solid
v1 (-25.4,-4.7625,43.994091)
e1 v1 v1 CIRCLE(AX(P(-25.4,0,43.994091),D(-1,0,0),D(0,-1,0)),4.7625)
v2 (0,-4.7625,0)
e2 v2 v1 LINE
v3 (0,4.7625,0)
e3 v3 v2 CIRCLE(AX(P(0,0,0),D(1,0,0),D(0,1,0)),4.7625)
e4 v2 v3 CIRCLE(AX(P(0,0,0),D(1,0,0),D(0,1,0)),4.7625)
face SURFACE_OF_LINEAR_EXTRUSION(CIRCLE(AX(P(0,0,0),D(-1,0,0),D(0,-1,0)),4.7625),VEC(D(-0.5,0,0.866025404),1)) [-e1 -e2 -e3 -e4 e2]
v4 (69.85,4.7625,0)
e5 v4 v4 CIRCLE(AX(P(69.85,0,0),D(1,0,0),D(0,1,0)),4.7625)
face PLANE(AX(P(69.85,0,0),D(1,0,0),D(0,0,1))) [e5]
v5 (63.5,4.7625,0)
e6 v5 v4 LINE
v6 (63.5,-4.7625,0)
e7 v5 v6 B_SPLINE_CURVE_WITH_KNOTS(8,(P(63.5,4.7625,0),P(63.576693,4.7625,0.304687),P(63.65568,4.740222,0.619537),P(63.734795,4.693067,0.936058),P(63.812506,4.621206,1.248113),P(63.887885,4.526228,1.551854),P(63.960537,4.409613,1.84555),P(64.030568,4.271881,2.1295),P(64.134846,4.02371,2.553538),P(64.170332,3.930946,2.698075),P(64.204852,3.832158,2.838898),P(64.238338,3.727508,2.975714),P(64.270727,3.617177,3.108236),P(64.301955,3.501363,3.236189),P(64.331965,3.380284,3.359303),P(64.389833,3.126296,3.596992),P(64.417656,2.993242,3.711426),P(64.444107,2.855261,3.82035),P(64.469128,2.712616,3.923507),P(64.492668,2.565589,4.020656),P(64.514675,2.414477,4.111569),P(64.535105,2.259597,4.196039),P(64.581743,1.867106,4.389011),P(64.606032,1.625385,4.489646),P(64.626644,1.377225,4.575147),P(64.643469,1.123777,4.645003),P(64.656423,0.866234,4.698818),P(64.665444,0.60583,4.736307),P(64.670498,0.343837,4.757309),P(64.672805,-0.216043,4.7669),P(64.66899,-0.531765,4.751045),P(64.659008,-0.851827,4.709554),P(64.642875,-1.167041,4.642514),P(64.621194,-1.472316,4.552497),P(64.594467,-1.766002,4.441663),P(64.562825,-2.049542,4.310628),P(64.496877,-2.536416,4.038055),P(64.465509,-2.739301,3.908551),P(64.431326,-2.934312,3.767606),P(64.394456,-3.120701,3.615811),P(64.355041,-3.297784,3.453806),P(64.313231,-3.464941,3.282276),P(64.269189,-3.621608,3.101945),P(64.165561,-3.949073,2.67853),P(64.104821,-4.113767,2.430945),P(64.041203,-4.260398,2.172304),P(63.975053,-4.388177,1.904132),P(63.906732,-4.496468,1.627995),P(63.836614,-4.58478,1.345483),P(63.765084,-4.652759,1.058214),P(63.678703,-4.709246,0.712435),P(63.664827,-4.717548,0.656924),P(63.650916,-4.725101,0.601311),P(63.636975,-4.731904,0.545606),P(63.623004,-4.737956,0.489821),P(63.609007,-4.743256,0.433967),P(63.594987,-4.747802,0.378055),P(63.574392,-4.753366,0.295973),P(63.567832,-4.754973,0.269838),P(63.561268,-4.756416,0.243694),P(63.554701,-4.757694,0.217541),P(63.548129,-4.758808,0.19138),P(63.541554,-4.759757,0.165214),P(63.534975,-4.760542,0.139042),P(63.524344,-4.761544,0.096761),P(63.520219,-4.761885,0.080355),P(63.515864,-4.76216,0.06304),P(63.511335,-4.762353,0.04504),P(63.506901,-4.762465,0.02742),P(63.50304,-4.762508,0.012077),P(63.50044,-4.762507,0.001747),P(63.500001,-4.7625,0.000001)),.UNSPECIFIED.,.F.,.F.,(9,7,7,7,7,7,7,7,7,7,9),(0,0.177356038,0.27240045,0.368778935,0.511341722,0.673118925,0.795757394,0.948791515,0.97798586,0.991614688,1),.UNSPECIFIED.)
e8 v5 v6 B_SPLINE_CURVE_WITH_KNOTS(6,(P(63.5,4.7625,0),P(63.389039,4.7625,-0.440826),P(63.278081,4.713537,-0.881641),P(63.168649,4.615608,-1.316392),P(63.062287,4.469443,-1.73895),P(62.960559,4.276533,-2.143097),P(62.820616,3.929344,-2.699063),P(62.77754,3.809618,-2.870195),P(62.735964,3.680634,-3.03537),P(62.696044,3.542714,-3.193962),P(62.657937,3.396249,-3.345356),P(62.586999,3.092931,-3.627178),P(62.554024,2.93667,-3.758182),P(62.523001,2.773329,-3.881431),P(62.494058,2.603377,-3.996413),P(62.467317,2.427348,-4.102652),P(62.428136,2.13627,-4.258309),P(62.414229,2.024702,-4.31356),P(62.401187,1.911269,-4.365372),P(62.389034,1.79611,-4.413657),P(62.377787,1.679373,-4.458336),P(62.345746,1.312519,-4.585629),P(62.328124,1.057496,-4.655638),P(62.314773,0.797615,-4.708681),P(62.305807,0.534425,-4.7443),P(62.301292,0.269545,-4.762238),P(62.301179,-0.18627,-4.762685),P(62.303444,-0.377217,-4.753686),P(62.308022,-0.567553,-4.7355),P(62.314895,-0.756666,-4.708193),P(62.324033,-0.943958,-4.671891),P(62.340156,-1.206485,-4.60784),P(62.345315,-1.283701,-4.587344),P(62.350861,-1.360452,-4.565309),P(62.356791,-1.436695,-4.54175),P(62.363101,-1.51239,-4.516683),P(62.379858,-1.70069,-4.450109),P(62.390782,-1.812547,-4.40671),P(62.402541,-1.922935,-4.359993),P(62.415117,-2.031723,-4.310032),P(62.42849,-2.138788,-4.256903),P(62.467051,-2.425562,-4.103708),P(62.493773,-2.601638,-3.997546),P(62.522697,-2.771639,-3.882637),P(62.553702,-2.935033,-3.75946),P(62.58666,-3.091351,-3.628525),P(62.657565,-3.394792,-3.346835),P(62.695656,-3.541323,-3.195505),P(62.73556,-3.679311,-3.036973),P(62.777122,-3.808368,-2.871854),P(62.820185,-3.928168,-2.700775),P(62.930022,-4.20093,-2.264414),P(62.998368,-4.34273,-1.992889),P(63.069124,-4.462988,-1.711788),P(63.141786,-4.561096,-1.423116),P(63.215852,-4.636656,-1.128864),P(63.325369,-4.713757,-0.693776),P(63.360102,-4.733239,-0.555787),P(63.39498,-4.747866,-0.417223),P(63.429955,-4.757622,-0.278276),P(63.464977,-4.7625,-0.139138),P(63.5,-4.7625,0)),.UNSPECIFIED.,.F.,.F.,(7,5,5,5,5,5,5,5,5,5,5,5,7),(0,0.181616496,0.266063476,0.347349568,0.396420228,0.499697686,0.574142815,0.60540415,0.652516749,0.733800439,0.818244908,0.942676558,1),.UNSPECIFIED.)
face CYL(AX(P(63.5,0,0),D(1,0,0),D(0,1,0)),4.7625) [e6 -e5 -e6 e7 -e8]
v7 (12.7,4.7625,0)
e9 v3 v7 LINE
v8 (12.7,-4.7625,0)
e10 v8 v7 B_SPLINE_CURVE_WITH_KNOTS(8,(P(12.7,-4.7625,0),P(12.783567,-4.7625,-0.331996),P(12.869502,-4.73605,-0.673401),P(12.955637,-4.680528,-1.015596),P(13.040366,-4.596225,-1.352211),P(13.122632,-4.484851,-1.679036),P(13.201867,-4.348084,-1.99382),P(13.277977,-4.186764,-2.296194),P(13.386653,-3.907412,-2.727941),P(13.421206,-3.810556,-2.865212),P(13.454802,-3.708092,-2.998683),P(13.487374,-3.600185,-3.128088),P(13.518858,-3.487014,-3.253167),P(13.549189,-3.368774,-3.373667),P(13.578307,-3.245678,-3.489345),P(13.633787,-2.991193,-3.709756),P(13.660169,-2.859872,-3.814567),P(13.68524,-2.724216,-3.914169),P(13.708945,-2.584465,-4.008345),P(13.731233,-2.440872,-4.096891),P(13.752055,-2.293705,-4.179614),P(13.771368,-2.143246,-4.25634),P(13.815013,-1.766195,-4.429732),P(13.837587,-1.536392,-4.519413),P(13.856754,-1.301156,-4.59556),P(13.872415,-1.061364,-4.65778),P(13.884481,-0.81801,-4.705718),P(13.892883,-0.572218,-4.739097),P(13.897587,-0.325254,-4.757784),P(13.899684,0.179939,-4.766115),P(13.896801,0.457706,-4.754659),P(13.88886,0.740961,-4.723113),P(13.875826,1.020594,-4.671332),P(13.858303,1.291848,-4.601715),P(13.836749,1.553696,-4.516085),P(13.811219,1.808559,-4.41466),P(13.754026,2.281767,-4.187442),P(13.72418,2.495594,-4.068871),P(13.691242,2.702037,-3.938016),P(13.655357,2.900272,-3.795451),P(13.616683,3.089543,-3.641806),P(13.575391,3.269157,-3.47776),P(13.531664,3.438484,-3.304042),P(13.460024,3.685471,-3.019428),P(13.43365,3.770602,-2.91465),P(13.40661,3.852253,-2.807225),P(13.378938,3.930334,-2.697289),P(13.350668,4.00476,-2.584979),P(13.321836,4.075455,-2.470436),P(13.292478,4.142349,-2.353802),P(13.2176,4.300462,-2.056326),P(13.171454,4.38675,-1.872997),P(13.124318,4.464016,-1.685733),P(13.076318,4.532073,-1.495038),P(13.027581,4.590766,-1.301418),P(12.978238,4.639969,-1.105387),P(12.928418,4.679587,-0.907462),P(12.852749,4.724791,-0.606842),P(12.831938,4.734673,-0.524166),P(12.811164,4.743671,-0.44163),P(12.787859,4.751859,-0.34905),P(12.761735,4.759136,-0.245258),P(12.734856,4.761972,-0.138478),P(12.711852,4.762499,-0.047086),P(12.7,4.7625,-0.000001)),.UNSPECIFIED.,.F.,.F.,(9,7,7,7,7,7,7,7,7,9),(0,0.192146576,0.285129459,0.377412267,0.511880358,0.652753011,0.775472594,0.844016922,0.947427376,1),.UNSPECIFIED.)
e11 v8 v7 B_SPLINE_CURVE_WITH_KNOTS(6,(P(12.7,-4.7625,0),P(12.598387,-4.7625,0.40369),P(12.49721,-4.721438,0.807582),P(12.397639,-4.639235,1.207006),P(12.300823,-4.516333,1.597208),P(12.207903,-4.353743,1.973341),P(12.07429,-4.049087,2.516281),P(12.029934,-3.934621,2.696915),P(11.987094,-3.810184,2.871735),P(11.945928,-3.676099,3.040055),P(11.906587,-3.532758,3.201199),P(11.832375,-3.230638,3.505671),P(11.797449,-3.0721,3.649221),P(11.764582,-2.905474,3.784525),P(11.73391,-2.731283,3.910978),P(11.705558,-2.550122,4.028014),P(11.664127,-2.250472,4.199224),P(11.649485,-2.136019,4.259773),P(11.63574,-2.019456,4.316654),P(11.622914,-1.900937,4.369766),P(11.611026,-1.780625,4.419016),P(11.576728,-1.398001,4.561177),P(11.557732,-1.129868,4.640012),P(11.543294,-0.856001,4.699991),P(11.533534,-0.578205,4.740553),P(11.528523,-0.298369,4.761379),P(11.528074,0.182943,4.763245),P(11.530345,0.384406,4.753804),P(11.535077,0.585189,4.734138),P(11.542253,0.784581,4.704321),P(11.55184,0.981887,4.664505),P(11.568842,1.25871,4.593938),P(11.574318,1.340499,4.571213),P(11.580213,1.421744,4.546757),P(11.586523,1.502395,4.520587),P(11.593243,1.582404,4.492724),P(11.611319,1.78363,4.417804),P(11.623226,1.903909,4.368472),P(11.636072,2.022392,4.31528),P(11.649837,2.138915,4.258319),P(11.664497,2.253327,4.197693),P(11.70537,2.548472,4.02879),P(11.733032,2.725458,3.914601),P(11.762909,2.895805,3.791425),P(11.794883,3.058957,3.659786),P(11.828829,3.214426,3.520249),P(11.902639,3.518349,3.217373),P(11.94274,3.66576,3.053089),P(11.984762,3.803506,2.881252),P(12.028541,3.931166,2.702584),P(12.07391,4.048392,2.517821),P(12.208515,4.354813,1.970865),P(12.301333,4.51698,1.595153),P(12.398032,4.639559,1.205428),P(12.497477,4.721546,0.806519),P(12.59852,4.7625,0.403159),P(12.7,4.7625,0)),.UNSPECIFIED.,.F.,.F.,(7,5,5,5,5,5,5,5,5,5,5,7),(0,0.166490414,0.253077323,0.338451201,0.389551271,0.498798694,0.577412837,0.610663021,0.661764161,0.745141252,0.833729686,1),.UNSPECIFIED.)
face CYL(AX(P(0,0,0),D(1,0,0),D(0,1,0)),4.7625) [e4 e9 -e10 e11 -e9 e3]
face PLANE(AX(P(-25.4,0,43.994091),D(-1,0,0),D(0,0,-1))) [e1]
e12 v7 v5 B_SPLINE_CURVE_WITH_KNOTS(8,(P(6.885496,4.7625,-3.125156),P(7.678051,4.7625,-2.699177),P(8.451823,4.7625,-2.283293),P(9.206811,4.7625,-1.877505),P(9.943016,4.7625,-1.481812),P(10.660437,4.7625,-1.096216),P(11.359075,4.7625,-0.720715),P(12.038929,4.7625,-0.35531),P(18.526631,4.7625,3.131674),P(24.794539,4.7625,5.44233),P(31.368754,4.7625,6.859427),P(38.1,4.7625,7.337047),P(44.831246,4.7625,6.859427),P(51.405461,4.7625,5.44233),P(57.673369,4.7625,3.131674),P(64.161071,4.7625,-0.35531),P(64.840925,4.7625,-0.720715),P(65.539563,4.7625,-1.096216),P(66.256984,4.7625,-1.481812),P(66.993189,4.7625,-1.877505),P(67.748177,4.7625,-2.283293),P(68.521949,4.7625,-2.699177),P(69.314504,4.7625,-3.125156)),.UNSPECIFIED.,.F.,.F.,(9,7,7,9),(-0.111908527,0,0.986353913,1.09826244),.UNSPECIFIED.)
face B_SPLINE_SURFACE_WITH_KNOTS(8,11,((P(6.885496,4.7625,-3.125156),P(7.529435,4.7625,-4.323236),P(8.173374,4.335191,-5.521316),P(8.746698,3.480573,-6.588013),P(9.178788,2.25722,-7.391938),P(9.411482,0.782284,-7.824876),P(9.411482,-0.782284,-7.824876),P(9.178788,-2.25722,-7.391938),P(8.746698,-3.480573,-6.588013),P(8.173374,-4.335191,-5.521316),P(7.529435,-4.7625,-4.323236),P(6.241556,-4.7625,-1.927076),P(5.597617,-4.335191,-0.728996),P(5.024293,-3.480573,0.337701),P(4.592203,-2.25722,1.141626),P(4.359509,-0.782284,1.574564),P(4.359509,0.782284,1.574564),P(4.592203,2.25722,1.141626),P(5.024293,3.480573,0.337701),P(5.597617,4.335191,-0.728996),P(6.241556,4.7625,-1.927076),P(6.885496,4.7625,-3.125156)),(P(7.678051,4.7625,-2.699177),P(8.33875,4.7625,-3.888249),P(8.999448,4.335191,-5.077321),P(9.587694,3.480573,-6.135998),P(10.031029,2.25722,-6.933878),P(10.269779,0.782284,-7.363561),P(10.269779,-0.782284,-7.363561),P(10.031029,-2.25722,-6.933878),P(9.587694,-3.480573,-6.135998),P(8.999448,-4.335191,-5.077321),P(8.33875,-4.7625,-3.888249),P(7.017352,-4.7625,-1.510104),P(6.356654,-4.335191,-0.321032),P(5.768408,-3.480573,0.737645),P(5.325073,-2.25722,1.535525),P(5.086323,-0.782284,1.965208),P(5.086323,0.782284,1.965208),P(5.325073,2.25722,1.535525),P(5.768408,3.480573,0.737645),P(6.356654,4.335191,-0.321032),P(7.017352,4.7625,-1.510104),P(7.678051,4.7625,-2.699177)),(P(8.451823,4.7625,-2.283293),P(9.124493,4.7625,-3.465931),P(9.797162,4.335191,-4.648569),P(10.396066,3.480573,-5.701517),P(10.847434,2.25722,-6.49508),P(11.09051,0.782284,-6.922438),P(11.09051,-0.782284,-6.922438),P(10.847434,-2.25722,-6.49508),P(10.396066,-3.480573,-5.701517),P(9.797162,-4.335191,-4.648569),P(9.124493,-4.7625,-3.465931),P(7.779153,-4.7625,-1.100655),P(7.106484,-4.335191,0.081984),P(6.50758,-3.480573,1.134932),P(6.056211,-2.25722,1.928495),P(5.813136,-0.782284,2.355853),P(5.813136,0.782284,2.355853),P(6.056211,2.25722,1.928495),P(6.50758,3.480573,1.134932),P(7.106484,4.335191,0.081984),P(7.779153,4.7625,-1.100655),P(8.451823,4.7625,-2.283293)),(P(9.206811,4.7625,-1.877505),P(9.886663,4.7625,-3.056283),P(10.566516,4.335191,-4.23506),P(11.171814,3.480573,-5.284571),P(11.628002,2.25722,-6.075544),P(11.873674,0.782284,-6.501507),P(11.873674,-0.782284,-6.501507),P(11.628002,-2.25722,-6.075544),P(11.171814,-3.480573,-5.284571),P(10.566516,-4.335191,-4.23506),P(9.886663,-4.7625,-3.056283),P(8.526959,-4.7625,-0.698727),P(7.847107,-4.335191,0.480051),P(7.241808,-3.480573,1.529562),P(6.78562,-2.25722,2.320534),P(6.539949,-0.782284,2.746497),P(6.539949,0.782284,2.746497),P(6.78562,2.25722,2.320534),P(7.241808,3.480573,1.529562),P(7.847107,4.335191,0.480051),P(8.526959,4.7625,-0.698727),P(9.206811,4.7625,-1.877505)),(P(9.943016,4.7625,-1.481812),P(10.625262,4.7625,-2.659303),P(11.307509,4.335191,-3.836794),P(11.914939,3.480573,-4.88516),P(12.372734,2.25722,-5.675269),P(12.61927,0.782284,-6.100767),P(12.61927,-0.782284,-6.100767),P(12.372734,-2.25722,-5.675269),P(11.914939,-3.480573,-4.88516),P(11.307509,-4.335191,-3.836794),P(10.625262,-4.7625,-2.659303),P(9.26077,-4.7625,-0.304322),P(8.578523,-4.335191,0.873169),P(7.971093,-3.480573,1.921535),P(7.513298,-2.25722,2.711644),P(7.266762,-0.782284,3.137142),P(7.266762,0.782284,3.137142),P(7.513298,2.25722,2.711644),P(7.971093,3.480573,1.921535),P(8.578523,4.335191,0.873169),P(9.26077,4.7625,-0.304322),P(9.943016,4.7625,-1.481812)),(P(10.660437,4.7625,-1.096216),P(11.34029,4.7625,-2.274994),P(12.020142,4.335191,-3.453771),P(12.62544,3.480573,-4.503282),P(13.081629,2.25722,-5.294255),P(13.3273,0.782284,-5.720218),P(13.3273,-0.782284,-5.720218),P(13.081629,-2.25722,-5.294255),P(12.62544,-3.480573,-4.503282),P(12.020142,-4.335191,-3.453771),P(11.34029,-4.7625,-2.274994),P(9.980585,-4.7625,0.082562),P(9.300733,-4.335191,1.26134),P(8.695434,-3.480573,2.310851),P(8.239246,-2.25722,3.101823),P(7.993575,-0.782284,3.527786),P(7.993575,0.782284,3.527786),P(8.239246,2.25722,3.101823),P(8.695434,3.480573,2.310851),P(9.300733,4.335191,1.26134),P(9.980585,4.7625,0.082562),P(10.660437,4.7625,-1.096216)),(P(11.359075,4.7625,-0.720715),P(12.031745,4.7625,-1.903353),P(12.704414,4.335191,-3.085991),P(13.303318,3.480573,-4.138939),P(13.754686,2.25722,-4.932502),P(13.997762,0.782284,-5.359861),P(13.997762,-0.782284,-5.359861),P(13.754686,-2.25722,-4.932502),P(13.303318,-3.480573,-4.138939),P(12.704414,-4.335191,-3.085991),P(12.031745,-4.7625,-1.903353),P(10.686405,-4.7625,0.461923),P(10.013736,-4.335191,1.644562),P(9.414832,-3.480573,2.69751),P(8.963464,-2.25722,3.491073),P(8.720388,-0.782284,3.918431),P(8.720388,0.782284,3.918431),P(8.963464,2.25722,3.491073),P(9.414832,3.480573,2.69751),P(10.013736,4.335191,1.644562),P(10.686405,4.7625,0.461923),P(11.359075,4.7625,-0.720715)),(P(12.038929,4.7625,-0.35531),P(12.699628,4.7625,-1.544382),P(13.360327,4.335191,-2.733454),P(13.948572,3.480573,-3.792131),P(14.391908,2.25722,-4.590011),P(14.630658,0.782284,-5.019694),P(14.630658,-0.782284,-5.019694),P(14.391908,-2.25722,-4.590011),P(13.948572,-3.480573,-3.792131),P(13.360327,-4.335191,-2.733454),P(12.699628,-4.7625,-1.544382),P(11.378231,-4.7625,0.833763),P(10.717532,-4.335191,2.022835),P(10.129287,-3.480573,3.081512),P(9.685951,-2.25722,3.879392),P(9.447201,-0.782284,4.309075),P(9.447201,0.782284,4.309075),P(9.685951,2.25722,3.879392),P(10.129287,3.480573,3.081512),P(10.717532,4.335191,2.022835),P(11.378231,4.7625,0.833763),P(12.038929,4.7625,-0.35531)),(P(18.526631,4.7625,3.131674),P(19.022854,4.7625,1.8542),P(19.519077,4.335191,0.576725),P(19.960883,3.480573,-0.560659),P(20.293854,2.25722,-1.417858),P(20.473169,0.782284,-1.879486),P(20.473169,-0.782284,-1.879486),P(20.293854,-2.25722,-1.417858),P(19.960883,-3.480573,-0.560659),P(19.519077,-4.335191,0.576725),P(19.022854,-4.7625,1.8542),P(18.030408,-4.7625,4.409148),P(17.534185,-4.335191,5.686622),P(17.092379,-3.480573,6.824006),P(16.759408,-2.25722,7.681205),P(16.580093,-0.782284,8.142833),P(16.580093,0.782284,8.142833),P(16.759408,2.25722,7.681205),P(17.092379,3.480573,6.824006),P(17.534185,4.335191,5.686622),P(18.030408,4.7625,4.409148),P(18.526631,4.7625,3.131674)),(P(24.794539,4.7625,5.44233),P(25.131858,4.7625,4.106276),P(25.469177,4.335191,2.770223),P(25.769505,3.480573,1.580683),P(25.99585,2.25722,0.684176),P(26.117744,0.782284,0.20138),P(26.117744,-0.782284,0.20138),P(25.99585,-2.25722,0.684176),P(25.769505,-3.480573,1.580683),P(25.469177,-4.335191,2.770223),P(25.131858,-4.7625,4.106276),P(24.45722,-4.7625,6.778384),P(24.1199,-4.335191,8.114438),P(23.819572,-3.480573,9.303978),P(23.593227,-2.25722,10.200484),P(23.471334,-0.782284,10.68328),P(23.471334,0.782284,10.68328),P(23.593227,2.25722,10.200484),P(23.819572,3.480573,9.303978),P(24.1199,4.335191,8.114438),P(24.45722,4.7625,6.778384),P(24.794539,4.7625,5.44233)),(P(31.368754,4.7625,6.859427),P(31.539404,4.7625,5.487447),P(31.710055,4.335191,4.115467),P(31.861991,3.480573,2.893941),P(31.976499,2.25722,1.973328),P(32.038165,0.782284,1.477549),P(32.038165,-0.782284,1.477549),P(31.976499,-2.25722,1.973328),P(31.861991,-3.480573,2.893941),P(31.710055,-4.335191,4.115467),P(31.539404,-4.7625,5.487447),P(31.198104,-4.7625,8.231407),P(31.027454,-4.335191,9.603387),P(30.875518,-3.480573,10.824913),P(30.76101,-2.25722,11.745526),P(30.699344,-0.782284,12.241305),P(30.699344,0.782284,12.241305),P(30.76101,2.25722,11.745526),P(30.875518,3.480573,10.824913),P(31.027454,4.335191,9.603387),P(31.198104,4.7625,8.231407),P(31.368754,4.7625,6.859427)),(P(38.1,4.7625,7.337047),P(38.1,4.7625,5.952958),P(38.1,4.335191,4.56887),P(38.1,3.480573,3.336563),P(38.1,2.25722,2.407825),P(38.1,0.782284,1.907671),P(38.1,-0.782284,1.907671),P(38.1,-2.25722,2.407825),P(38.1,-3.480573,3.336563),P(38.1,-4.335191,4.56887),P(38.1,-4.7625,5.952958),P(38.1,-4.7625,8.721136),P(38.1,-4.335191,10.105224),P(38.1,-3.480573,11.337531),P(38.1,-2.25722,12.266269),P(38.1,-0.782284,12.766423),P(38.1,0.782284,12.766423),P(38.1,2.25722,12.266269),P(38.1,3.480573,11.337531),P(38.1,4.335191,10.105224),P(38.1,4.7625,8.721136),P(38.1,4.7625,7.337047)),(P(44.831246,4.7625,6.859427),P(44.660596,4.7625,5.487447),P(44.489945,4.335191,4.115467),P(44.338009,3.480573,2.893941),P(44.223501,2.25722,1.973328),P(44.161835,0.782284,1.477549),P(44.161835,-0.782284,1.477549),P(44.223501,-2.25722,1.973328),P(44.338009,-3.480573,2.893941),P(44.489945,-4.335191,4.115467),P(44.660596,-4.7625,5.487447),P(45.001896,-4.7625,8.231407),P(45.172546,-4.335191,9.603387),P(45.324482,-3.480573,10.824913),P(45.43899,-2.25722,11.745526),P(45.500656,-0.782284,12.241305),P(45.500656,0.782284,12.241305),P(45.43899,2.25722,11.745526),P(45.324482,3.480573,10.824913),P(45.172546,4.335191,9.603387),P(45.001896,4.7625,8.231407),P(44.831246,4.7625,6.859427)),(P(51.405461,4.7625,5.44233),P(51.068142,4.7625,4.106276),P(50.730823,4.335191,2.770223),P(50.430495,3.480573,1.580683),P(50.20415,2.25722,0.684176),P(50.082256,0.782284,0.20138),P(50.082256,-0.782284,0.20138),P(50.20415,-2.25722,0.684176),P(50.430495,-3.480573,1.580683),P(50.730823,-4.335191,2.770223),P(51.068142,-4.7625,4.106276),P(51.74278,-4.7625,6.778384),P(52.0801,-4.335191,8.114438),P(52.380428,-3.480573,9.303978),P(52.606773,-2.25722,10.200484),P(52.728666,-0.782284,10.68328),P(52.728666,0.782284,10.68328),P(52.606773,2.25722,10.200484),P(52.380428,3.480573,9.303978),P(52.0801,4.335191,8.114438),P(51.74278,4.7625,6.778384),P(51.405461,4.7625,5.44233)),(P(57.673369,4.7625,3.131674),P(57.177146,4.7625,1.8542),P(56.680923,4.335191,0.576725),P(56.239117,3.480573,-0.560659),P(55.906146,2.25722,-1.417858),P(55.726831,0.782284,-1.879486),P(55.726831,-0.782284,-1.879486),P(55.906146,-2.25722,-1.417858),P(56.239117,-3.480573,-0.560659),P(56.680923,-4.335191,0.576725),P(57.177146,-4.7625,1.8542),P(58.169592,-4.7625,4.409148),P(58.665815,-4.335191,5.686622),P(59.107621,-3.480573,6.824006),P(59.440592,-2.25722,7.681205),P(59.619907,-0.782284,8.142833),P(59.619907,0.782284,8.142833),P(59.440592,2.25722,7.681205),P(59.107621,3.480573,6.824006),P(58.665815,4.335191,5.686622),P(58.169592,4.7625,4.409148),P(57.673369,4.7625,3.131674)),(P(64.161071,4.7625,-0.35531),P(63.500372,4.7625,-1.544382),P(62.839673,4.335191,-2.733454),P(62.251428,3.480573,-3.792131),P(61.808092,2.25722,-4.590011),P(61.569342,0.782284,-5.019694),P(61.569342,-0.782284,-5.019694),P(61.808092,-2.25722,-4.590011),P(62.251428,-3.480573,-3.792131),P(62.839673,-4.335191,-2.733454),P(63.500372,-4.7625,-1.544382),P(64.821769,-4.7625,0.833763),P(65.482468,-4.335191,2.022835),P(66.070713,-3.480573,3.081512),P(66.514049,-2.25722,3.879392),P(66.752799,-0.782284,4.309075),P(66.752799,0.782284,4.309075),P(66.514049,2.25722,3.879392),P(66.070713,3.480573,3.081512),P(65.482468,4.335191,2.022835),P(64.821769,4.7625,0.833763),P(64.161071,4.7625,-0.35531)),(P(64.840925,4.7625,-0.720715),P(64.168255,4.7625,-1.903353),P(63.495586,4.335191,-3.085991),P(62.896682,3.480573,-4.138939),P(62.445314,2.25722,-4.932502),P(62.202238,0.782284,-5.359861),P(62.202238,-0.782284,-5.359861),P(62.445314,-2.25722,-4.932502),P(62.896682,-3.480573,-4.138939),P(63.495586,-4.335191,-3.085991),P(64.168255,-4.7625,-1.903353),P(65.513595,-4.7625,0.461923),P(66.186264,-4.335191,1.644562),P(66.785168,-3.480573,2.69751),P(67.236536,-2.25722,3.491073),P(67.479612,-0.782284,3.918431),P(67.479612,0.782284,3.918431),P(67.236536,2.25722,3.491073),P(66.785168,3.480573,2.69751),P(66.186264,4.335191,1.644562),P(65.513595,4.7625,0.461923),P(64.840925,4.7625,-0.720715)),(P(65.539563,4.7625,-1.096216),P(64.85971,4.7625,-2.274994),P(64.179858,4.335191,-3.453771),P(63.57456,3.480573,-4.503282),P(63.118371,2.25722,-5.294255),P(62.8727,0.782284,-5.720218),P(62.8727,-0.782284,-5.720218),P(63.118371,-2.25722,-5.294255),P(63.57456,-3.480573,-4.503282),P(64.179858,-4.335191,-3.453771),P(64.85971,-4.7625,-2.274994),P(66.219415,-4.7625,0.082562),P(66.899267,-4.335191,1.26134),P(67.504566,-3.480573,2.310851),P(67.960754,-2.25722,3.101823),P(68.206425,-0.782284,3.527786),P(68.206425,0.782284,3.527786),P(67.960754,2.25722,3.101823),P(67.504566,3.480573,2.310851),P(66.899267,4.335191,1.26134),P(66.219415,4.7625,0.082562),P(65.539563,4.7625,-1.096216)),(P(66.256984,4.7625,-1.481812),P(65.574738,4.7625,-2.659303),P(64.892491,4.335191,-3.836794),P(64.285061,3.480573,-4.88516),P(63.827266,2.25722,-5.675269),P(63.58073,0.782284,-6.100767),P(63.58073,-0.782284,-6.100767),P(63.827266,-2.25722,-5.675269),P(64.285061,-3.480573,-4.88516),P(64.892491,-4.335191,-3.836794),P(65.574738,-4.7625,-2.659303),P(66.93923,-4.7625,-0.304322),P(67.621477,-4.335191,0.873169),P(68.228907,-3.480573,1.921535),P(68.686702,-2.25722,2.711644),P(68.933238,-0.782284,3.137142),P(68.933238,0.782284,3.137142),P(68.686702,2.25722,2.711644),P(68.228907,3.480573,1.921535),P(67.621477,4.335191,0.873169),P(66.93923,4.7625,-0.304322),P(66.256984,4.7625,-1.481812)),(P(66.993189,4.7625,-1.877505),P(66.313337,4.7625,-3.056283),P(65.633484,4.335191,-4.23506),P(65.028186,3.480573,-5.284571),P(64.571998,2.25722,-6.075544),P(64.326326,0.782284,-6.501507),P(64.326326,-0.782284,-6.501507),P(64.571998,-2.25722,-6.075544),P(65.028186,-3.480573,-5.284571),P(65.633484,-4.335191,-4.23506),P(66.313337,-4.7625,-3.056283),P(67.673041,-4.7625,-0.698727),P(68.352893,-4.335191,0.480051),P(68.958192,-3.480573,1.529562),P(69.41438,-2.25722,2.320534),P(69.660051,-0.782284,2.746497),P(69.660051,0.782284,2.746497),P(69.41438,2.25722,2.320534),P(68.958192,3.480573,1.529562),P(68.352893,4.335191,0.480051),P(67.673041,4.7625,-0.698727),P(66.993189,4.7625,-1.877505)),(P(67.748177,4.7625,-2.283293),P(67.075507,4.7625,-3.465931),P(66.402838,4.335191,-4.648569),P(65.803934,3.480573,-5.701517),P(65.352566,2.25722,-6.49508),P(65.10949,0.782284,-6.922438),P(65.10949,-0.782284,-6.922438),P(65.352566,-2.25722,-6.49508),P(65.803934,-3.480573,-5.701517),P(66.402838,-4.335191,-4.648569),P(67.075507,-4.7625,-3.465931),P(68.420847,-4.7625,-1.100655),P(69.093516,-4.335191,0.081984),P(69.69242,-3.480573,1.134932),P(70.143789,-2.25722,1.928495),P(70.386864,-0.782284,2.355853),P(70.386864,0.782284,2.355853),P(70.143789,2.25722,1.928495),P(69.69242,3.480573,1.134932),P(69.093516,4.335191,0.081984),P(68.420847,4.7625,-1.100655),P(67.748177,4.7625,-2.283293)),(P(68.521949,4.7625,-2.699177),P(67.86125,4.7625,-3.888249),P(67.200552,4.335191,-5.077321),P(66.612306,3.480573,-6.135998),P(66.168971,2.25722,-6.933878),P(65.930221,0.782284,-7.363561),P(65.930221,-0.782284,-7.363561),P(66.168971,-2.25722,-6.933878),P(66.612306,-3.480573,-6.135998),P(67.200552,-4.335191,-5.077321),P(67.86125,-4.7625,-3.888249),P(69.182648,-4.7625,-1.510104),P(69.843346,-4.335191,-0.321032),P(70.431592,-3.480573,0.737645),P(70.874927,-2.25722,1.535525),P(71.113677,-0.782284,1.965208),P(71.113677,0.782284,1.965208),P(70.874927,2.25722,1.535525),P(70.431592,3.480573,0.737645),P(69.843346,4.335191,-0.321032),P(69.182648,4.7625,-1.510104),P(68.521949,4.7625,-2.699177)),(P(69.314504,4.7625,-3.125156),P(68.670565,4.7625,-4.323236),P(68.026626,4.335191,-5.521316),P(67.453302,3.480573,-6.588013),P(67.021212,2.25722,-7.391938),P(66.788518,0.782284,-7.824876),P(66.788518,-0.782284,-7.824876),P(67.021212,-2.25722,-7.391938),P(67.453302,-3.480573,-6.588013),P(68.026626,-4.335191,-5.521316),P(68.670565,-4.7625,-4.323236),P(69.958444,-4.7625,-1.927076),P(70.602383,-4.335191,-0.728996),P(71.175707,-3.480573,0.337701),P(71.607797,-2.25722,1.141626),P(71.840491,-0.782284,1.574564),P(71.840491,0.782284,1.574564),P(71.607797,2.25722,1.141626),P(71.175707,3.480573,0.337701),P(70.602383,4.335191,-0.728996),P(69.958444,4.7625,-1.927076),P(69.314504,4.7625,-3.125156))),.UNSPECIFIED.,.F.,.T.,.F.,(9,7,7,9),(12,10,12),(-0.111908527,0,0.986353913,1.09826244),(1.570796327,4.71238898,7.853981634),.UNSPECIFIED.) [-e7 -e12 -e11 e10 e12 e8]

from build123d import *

# Parameters (mm, degrees)
F0_R      = 4.7625
F2_FACE_R = 4.7625


with BuildPart() as f2:
    # F2: sweep along a path in F1
    with BuildLine(Plane.XZ) as f2_path:
        Line((0, 0), (12.7, 0))
        ThreePointArc((12.7, 0), (38.1, 6.3934624181), (63.5, 0))
        Line((63.5, 0), (69.85, 0))
    # F0 (on Right) → F2 (sweep)
    with BuildSketch(Plane.YZ):
        Circle(F0_R)
    sweep(path=f2_path.line, transition=Transition.RIGHT)

    # F4: sweep along a path in F3
    with BuildLine(Plane.XZ) as f4_path:
        Line((-6.35, 0), (-31.75, 43.9940905122))
    # F2_face (on face) → F4 (sweep)
    with BuildSketch(Plane(origin=(0, 0, 0), x_dir=(0, -1, 0), z_dir=(-1, 0, 0))):
        Circle(F2_FACE_R)
    sweep(path=f4_path.line)


solid = f2.part
